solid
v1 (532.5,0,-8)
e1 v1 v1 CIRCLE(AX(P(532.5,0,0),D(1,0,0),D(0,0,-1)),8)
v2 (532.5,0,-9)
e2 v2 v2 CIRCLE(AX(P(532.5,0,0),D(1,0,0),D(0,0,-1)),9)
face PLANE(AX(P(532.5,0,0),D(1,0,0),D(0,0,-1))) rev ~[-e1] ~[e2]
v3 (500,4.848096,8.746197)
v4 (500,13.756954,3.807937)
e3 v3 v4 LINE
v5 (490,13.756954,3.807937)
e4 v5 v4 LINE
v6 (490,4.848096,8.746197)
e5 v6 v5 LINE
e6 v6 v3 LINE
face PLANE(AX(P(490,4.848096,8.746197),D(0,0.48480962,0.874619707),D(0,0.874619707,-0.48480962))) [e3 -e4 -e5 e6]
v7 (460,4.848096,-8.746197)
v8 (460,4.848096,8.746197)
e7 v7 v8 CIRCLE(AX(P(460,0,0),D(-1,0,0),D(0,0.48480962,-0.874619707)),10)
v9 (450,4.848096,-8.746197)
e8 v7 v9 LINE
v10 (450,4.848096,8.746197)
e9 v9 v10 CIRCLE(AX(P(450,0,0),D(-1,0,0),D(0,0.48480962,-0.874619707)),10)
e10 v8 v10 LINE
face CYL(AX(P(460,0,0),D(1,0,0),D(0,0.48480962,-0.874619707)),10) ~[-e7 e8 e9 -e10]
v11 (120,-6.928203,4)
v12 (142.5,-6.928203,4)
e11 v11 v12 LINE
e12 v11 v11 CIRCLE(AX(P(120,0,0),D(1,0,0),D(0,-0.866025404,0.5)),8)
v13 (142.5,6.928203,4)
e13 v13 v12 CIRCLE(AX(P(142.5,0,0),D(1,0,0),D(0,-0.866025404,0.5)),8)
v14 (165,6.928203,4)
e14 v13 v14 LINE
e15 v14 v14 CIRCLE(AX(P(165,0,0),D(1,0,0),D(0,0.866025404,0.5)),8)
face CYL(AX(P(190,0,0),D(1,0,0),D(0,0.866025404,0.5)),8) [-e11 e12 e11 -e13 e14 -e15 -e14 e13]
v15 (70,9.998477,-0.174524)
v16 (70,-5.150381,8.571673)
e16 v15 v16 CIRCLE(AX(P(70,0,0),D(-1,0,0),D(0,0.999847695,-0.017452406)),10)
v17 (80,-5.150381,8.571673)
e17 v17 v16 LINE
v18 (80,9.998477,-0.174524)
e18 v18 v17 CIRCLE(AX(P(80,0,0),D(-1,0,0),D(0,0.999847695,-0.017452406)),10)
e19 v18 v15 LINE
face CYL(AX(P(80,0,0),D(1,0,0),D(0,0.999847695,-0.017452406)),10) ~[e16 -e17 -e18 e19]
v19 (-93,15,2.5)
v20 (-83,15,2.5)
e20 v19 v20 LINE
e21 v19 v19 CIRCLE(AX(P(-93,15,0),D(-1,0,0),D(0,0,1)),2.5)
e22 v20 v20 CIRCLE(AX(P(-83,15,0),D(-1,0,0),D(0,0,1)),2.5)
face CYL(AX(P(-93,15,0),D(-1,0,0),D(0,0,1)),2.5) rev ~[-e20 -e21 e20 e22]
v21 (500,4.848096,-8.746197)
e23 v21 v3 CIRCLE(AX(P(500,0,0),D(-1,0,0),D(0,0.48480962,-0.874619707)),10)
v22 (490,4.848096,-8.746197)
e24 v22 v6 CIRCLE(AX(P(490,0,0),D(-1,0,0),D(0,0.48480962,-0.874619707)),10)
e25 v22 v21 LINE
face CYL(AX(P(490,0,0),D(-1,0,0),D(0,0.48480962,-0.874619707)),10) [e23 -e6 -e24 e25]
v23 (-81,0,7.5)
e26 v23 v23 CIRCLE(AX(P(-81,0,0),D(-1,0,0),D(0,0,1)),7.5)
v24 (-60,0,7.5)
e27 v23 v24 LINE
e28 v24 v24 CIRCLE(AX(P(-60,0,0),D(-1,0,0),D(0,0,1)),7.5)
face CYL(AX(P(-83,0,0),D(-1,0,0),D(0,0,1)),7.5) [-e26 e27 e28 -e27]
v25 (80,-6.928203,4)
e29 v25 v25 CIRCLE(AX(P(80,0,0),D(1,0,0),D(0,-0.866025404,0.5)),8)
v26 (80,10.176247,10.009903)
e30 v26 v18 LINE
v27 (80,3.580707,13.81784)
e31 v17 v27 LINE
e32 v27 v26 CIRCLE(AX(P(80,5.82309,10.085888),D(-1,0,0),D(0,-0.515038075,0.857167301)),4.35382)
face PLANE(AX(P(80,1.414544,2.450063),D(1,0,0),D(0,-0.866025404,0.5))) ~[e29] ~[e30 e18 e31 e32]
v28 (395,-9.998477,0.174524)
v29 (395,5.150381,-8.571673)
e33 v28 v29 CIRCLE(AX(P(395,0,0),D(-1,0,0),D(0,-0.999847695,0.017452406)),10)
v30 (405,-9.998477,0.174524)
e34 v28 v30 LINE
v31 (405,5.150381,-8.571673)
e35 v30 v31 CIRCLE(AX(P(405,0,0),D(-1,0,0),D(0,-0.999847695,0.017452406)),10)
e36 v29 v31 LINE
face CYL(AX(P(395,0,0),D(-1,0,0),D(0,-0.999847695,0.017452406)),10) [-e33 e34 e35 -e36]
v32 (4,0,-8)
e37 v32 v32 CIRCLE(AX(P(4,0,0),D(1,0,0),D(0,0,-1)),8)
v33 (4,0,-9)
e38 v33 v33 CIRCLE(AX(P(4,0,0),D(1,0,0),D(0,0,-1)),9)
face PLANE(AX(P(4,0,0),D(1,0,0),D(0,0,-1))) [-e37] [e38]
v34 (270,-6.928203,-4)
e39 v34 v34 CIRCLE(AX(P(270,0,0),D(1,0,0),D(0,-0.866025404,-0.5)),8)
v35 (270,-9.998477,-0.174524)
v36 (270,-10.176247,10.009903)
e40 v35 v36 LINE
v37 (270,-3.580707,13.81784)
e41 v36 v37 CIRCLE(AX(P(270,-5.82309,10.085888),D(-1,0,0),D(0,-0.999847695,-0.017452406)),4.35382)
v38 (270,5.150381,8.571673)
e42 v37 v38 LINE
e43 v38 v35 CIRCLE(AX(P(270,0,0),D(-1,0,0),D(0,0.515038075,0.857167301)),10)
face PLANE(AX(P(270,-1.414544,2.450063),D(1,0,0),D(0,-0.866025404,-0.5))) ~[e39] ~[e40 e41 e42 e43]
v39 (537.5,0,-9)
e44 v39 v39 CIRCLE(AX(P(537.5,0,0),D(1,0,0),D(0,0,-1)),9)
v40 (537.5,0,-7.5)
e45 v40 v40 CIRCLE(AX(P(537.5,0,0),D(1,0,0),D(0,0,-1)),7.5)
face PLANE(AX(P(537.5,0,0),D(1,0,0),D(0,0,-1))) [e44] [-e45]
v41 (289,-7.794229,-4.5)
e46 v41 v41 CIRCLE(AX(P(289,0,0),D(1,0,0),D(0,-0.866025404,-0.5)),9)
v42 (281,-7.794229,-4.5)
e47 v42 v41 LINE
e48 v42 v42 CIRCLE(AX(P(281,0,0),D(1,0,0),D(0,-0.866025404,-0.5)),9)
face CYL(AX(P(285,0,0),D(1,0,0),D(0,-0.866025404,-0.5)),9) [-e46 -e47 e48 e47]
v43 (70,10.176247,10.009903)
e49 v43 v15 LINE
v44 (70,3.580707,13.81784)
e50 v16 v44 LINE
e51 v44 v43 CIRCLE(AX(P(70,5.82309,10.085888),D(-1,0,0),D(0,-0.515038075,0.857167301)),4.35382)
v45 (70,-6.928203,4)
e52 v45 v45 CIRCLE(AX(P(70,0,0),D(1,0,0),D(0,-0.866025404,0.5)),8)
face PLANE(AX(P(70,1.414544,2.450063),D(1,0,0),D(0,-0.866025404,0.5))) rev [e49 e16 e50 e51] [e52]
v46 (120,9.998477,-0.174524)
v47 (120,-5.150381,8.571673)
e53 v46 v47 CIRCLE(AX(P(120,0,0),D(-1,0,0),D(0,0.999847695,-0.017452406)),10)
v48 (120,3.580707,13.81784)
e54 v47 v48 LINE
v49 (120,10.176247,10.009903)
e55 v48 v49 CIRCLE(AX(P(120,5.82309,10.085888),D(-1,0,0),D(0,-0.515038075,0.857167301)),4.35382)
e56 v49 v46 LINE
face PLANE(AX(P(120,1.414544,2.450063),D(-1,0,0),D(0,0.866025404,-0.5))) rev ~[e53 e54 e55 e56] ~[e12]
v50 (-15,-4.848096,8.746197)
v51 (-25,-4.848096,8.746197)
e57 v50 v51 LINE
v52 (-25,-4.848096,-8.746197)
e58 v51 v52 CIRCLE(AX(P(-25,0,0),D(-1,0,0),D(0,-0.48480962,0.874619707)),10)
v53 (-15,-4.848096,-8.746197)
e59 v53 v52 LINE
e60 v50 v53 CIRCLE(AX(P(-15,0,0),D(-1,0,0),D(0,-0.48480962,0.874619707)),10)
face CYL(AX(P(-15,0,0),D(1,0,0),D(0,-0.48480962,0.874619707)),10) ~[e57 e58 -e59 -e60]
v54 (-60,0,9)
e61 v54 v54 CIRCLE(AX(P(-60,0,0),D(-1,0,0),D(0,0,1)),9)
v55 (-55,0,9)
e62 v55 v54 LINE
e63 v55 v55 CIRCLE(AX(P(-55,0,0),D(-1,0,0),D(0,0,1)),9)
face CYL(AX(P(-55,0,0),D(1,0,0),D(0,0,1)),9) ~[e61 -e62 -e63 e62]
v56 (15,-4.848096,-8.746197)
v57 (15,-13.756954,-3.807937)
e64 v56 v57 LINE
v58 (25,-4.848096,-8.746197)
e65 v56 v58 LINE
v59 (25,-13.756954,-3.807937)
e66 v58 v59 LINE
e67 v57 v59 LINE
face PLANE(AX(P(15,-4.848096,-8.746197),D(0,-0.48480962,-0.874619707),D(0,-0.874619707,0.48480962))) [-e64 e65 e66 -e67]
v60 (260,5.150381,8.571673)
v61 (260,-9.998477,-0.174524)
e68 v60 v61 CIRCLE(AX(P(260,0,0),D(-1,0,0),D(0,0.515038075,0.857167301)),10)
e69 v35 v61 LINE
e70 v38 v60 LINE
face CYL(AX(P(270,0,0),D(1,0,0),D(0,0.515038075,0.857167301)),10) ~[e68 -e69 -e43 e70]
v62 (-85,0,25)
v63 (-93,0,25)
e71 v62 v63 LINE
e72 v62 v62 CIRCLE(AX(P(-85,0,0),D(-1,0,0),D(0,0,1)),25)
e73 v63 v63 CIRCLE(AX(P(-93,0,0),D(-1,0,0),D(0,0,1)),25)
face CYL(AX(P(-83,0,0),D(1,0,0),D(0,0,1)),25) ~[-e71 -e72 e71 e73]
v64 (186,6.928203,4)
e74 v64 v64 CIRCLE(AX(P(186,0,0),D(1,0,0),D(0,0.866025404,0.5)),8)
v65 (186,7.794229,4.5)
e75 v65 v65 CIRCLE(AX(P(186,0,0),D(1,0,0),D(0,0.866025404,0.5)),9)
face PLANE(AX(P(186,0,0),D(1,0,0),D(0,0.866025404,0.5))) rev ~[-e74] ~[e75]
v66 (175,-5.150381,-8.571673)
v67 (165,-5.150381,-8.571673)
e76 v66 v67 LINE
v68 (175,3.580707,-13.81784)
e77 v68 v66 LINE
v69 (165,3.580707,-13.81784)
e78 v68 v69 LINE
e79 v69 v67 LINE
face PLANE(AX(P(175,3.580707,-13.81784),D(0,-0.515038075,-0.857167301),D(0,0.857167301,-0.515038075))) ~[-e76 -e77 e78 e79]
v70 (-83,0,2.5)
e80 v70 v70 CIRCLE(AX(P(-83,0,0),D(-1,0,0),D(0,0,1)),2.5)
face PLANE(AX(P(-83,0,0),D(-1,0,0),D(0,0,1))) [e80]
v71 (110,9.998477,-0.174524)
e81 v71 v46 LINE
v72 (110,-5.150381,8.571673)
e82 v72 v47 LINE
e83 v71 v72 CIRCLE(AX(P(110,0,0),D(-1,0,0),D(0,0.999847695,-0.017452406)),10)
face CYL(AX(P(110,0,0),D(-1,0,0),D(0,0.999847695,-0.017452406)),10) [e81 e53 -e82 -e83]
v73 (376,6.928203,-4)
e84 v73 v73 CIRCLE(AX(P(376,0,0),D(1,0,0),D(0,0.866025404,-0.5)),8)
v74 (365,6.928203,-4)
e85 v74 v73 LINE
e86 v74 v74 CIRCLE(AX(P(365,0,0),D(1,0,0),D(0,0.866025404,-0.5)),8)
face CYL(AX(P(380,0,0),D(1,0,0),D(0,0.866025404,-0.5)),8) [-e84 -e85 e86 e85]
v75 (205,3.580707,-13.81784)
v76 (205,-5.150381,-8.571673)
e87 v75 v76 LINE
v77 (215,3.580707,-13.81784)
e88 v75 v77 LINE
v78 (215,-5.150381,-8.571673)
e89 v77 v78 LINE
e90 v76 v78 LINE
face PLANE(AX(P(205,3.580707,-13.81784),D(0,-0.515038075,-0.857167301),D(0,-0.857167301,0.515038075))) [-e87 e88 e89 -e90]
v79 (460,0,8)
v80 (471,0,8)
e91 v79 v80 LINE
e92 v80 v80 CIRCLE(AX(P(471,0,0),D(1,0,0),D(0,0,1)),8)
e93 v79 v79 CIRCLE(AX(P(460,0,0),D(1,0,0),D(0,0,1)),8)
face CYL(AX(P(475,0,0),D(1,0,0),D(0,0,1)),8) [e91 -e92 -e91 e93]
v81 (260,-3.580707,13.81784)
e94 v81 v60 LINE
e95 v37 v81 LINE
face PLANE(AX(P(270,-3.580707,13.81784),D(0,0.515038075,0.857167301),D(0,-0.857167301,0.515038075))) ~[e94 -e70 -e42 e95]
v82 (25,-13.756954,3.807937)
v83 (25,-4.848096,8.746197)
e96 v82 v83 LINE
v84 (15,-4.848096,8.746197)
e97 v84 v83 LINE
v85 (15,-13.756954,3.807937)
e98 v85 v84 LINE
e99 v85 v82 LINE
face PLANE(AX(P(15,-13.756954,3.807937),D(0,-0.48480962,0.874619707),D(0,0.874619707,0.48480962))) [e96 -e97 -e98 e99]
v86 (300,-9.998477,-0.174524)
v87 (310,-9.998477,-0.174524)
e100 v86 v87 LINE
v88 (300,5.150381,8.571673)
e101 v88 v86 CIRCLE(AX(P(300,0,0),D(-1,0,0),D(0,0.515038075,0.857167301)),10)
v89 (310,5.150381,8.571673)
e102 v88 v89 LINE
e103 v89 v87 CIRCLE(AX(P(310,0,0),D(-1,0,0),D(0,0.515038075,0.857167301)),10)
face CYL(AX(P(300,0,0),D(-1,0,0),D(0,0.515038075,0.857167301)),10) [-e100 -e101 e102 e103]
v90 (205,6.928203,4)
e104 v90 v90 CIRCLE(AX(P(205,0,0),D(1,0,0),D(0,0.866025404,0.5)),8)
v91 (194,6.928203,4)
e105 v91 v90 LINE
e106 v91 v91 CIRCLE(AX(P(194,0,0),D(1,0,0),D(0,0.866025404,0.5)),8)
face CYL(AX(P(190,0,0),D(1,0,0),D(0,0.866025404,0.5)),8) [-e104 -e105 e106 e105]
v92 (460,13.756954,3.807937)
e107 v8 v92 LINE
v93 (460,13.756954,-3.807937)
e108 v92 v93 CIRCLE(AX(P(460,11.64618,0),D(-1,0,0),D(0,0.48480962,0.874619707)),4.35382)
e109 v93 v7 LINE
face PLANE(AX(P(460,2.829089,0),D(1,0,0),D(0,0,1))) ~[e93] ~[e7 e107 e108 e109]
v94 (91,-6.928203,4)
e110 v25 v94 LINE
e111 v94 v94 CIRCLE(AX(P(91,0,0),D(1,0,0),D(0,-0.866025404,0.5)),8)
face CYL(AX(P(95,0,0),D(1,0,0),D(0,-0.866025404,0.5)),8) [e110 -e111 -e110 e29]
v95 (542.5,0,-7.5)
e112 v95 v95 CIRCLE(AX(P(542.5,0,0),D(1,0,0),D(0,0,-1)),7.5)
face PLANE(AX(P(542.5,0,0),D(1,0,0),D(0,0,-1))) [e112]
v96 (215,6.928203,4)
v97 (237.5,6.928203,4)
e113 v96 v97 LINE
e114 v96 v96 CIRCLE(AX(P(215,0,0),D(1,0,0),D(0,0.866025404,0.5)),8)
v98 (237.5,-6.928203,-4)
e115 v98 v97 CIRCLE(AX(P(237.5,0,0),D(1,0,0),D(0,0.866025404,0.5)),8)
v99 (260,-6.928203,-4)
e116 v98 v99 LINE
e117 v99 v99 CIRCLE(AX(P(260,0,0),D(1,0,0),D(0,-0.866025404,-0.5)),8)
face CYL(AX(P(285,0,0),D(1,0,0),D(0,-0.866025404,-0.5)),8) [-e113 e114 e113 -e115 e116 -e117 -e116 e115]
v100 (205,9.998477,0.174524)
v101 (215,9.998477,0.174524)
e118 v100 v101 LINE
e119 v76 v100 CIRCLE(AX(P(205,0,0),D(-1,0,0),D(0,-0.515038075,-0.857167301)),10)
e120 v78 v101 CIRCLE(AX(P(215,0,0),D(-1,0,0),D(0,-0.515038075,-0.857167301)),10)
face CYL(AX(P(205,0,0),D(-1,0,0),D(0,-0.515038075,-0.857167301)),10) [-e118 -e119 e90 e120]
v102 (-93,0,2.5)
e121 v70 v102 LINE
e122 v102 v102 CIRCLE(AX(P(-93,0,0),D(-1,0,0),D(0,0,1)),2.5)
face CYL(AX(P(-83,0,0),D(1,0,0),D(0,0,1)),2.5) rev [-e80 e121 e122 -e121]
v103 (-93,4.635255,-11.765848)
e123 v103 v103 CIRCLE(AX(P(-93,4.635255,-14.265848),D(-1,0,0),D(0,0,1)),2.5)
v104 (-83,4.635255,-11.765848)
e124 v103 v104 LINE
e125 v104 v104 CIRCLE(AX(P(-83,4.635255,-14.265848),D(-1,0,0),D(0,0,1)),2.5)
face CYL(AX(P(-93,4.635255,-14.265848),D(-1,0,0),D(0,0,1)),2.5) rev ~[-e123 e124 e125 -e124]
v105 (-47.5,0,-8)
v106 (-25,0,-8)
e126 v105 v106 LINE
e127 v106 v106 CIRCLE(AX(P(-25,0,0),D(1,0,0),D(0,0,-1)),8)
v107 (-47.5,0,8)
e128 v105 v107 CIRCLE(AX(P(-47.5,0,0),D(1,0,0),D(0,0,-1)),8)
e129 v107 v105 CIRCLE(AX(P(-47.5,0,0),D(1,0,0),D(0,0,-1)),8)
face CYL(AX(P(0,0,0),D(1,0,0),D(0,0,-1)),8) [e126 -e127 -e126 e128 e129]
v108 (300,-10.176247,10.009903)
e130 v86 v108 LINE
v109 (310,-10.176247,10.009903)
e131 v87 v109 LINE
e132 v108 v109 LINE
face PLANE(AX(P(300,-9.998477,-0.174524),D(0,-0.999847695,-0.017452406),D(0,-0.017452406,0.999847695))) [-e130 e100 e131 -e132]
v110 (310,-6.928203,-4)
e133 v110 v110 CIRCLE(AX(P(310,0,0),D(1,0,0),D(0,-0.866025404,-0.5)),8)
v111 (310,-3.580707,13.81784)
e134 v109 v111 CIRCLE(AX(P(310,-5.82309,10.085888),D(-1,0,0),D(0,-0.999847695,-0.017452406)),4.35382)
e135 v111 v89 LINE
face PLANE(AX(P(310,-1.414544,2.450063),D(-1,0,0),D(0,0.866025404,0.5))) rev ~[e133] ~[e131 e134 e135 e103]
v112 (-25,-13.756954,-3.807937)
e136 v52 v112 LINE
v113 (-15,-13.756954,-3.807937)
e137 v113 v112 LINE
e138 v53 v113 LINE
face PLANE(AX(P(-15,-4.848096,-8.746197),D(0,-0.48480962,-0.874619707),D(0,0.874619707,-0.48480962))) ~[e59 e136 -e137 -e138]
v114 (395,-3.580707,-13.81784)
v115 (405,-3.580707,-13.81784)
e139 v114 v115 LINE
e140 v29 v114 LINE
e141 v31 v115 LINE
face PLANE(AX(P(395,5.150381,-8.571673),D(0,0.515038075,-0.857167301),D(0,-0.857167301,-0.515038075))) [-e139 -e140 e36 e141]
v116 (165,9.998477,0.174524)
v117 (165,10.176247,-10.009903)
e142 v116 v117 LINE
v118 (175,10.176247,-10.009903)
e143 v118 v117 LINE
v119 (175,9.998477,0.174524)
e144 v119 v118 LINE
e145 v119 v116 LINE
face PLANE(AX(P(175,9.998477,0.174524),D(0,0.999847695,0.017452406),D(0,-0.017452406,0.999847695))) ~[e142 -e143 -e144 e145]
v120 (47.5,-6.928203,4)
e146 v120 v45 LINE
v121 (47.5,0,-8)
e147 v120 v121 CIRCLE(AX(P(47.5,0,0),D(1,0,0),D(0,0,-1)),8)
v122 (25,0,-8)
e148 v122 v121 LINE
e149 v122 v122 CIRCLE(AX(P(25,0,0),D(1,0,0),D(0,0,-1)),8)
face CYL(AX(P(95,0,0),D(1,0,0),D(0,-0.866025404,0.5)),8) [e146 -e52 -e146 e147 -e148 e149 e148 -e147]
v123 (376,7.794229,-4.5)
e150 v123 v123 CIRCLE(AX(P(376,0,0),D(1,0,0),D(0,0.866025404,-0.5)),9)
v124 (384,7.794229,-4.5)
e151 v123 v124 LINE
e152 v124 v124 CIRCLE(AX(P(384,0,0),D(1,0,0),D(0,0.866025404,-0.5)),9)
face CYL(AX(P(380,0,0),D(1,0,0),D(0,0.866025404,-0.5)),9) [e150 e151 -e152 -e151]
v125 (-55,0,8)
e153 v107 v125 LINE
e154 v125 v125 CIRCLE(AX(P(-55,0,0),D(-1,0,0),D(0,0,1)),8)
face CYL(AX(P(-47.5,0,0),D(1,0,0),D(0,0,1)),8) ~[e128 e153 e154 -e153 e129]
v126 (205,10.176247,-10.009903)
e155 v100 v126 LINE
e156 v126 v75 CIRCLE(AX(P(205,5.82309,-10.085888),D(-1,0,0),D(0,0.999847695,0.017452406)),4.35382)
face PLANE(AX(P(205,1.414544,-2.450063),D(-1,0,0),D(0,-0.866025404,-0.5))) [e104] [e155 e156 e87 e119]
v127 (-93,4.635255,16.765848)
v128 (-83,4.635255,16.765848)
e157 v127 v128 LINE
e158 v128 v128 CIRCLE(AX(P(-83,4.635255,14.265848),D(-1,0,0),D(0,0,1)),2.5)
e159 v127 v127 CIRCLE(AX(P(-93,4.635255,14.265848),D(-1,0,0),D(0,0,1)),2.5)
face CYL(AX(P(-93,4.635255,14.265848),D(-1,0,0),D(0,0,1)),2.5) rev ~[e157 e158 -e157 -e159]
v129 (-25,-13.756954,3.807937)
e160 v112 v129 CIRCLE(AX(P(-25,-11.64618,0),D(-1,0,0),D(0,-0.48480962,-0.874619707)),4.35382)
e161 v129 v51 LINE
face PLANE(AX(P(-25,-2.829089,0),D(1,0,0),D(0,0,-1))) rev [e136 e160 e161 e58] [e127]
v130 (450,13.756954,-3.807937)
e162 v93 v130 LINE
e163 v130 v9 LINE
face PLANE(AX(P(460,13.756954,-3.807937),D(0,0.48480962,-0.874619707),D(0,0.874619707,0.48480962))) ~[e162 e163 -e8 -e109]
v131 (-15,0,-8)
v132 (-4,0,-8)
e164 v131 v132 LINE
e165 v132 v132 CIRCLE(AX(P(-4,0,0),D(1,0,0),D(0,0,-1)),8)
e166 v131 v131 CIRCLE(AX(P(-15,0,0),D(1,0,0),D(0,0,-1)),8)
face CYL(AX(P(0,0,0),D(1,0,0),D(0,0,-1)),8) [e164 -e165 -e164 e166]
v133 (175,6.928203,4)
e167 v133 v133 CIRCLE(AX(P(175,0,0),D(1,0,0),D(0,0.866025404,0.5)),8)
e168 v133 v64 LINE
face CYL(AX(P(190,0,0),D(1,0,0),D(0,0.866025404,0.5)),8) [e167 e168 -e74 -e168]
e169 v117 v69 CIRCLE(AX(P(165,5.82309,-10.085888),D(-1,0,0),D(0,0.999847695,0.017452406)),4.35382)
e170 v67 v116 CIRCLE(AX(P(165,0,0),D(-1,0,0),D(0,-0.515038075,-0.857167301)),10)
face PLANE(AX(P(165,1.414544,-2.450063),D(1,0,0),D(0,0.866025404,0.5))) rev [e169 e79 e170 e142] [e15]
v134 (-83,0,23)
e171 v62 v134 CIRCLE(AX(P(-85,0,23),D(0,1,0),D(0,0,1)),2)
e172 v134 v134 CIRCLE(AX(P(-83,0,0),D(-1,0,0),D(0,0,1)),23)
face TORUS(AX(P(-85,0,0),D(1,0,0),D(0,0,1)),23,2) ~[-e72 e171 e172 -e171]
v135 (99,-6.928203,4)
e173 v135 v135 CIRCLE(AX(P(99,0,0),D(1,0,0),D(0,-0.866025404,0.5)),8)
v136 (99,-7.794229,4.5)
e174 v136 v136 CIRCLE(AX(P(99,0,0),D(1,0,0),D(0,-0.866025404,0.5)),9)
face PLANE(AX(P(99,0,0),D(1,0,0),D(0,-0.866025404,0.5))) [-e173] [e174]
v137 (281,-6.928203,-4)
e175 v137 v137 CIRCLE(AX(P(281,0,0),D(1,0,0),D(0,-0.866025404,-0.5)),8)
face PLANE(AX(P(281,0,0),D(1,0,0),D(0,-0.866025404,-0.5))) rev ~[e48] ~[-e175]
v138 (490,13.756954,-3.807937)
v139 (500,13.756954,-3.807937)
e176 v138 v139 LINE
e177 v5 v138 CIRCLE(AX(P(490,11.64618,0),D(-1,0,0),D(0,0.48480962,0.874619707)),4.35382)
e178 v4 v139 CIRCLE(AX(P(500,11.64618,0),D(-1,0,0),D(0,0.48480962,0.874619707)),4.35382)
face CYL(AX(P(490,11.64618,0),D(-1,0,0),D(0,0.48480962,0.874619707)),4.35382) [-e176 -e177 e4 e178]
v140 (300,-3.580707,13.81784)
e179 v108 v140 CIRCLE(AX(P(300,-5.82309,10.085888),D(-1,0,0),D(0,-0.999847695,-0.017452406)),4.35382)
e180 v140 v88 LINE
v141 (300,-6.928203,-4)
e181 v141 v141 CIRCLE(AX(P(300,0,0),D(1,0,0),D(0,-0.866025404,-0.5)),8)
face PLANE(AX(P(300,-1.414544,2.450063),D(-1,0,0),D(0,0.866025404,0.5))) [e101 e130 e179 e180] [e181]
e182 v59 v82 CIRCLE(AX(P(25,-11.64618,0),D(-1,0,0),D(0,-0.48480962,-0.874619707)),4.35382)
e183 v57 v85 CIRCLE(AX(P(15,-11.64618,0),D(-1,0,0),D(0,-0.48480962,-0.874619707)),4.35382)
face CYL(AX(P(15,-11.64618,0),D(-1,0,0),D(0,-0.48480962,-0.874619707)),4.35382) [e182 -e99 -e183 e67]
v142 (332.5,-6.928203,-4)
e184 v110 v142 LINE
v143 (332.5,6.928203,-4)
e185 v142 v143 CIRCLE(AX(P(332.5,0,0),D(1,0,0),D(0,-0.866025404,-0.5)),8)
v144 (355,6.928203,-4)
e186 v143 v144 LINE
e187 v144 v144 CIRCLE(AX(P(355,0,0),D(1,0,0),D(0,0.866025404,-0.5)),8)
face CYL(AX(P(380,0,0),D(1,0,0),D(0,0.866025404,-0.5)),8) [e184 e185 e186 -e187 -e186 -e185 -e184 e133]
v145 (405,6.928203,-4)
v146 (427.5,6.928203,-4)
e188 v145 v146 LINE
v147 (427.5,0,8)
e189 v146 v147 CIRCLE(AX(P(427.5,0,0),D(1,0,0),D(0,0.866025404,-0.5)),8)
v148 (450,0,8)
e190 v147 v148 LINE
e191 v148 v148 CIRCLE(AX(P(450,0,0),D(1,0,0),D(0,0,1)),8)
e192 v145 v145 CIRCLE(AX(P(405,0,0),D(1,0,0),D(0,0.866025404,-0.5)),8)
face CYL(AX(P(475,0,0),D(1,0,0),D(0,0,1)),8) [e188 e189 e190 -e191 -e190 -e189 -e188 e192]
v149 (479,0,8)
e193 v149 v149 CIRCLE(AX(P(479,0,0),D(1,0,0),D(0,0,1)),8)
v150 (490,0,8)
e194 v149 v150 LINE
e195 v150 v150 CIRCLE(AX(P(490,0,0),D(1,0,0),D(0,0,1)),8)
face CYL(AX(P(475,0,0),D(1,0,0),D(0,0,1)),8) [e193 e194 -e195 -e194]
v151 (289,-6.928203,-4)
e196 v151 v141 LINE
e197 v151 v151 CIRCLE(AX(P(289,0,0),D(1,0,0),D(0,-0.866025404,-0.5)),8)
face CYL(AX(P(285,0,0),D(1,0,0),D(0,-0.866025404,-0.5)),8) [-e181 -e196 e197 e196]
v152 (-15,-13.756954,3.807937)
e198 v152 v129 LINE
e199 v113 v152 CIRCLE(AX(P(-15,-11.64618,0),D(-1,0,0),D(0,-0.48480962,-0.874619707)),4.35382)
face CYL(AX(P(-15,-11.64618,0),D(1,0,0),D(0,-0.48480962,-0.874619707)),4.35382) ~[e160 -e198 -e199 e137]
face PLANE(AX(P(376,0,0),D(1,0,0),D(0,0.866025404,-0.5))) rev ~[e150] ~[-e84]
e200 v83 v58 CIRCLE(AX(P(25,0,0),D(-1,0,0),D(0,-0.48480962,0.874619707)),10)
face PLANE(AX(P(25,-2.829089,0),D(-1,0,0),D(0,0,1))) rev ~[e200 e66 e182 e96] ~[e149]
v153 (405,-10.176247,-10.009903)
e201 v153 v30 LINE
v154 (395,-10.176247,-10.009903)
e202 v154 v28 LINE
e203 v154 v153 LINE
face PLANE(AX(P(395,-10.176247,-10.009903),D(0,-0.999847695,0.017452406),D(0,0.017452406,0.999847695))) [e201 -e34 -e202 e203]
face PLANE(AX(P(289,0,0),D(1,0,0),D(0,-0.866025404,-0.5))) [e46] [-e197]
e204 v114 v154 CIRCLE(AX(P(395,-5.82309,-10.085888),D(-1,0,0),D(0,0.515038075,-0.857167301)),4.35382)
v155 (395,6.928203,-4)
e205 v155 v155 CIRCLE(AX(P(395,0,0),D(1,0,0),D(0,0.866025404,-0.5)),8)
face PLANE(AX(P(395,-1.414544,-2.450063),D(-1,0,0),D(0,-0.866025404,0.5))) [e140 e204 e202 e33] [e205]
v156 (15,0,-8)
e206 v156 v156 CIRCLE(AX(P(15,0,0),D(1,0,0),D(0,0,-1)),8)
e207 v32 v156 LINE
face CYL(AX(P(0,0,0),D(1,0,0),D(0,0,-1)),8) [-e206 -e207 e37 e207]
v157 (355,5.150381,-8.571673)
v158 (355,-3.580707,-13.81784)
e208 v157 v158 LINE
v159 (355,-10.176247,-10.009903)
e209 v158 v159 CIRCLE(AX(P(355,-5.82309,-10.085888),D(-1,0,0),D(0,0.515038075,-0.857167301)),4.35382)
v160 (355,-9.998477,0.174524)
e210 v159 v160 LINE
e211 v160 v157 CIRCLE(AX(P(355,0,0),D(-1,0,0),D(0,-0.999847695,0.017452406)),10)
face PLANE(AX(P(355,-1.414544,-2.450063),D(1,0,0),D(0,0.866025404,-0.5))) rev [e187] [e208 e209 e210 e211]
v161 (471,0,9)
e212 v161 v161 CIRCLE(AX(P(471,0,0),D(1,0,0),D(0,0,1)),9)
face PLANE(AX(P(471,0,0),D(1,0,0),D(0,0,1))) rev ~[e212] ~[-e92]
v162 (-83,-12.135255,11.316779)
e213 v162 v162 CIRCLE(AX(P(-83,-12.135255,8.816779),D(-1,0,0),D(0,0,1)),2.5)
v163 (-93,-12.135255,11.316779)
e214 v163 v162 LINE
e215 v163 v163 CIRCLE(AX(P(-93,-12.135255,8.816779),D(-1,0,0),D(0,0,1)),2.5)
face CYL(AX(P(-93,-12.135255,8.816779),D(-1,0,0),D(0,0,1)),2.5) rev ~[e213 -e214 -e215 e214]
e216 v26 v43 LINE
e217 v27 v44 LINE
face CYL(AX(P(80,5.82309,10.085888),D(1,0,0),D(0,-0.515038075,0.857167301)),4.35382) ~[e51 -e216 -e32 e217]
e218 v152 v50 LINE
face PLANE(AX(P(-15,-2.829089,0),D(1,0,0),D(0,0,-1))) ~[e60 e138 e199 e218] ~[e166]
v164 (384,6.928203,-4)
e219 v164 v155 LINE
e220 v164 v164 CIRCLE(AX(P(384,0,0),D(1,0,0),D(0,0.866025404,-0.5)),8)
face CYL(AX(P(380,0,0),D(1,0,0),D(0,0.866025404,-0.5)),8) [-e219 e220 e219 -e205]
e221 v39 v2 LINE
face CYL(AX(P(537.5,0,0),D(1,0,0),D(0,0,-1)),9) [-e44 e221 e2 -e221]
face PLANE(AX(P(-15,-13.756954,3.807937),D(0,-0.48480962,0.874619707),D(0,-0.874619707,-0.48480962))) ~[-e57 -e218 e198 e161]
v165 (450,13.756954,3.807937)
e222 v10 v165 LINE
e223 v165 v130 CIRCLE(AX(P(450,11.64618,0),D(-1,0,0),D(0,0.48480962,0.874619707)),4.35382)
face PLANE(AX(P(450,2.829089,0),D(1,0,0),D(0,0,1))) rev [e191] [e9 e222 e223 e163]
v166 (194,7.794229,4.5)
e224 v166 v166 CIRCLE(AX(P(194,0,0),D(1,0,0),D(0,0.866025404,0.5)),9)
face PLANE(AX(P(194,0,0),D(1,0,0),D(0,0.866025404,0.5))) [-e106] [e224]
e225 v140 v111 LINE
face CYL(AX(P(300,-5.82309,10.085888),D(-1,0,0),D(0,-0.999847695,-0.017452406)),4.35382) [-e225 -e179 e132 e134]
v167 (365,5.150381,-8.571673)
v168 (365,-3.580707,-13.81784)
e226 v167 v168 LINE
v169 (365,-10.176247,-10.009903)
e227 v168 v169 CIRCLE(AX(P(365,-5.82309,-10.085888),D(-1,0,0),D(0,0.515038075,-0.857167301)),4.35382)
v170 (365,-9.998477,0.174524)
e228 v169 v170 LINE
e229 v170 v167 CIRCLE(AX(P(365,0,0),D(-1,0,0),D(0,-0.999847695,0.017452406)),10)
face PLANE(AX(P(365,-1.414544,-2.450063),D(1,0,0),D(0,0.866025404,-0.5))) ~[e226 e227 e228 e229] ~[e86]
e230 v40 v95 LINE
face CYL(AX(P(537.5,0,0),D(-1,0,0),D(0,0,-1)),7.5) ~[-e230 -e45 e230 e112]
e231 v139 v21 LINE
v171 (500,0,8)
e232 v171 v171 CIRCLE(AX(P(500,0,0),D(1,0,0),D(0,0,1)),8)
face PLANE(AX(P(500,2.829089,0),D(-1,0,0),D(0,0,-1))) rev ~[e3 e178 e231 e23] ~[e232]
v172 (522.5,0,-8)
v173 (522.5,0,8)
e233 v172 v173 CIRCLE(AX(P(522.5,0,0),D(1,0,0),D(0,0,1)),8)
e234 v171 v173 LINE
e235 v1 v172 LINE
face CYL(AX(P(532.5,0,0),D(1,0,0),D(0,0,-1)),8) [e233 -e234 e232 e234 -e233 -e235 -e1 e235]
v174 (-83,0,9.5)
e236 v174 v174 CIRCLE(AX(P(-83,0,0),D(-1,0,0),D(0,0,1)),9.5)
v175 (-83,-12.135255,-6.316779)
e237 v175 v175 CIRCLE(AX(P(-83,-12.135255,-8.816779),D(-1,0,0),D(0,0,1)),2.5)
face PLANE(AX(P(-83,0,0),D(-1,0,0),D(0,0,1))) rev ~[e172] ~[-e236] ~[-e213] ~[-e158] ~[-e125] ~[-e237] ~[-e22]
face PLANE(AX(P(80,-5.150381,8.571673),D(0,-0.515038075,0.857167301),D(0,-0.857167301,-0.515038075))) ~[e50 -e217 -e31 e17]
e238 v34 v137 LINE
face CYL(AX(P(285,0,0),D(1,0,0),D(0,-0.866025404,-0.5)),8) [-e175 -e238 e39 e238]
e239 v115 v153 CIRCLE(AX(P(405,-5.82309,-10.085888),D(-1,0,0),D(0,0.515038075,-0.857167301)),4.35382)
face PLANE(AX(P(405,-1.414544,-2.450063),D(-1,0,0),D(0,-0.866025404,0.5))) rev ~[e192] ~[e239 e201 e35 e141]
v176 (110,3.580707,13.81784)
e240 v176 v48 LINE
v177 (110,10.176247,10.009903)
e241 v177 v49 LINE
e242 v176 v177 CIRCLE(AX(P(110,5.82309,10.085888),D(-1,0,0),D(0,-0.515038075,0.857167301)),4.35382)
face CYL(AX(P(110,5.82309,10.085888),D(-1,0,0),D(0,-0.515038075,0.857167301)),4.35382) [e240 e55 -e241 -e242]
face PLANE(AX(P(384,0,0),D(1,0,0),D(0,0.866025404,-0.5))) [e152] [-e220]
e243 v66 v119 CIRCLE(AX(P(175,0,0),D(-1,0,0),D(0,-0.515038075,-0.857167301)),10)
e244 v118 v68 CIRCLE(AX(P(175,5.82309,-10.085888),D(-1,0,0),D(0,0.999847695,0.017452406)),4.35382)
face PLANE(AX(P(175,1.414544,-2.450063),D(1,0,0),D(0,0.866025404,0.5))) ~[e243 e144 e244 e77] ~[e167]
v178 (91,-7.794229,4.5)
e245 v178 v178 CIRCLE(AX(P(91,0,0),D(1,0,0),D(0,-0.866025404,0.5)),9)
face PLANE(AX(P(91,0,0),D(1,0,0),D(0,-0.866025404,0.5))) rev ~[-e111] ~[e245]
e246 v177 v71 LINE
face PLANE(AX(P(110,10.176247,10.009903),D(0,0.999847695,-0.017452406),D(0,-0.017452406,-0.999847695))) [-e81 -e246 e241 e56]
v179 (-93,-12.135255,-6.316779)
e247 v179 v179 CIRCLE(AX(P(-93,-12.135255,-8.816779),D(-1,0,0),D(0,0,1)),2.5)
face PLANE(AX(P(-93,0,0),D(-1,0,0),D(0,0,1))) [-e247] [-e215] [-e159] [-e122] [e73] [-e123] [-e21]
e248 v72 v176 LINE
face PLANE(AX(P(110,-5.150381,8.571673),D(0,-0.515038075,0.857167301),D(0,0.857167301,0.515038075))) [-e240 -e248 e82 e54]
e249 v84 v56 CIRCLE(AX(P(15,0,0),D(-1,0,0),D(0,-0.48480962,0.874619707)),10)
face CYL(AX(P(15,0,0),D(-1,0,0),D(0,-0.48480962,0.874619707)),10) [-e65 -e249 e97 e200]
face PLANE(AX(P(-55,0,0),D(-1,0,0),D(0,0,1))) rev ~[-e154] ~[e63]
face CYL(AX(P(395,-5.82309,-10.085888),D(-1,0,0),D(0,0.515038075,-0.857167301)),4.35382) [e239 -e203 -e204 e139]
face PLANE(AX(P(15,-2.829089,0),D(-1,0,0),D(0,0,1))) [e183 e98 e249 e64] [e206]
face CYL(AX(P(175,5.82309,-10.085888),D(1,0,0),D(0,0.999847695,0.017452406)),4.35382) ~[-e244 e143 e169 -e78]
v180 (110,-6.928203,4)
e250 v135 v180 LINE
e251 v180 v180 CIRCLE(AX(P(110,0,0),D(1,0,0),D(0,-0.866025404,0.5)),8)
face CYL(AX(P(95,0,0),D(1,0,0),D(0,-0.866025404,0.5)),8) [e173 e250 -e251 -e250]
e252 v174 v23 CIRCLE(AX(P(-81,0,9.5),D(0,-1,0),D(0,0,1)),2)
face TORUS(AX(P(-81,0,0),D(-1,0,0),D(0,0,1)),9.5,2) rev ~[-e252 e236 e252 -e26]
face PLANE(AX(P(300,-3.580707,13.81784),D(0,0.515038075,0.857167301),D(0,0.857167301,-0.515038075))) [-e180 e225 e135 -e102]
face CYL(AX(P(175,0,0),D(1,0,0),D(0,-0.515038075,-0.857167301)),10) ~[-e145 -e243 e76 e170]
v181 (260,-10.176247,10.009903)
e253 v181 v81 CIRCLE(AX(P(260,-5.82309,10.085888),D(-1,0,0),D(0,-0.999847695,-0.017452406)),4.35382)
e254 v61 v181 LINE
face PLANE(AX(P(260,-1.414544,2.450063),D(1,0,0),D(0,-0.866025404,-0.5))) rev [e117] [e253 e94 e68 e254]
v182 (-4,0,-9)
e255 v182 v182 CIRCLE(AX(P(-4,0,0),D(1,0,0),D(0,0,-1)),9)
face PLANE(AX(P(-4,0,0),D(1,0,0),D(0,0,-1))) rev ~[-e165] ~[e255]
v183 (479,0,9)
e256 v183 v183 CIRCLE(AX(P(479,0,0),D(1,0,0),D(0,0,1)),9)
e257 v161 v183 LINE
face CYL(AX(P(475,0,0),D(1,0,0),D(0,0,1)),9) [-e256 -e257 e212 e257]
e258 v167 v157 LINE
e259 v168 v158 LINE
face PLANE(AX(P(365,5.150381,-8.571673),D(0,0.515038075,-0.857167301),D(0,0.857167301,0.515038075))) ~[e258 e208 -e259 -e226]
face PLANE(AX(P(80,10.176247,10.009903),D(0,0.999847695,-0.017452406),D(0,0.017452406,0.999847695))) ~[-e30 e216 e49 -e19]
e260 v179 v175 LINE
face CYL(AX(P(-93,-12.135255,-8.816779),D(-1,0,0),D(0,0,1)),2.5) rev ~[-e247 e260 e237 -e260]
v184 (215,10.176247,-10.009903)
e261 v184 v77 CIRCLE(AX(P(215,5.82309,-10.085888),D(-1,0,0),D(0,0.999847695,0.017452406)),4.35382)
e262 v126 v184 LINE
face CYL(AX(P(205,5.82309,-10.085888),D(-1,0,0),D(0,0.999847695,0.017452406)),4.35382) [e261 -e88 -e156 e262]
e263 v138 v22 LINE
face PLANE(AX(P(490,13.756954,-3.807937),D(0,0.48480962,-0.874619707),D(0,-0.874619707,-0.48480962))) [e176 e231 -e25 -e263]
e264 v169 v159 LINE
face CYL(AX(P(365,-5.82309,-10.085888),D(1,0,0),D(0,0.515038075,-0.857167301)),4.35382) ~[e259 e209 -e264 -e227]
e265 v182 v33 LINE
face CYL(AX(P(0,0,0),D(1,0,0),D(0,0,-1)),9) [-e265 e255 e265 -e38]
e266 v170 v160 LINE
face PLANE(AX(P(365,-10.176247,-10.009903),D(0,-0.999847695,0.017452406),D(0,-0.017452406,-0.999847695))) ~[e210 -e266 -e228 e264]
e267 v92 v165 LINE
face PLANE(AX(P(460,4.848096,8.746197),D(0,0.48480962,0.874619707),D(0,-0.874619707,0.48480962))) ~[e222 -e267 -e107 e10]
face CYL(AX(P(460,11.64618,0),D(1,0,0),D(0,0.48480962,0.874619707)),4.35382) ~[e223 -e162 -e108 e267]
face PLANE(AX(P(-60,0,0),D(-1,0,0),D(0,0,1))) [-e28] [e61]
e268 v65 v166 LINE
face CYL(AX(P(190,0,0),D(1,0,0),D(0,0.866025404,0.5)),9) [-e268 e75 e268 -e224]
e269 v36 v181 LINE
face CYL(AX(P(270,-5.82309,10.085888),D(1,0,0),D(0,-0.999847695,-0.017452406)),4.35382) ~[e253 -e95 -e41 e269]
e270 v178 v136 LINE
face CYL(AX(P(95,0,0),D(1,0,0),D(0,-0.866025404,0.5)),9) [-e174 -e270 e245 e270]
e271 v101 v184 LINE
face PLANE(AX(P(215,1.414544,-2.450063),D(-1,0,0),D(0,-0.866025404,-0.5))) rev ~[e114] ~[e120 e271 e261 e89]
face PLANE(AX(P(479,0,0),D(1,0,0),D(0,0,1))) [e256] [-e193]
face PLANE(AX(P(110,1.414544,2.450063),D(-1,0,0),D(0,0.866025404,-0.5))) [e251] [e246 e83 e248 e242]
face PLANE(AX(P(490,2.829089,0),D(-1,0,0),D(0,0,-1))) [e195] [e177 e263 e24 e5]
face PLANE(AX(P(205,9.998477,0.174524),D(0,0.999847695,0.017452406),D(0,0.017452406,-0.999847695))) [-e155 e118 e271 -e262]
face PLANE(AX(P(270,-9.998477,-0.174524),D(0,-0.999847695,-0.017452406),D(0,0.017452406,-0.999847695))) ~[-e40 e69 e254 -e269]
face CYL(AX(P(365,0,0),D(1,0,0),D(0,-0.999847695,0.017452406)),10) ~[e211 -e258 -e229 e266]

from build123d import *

# Parameters (mm, degrees)
SKETCH1_R             = 8
BOSS_EXTRUDE1_DEPTH   = 47.5
BOSS_EXTRUDE2_START   = 15
BOSS_EXTRUDE2_DEPTH   = 10
SKETCH3_R             = 9
BOSS_EXTRUDE3_DEPTH   = 4
LPATTERN1_COUNT       = 6
LPATTERN1_PITCH       = 95
BODY_MOVE_COPY1_ANGLE = 60
BODY_MOVE_COPY2_ANGLE = 120
BODY_MOVE_COPY3_ANGLE = 60
BODY_MOVE_COPY4_ANGLE = 120
BODY_MOVE_COPY5_ANGLE = 180
BOSS_EXTRUDE4_START   = 10
SKETCH4_R             = 8
BOSS_EXTRUDE4_DEPTH   = 10
BOSS_EXTRUDE5_START   = 5
SKETCH5_R             = 9
BOSS_EXTRUDE5_DEPTH   = 5
SKETCH6_R             = 7.5
BOSS_EXTRUDE6_DEPTH   = 5
SKETCH7_R             = 8
BOSS_EXTRUDE7_DEPTH   = 7.5
SKETCH8_R             = 9
BOSS_EXTRUDE8_DEPTH   = 5
BOSS_EXTRUDE9_START   = 23
SKETCH9_R             = 7.5
BOSS_EXTRUDE9_DEPTH   = 23
SKETCH10_R            = 25
SKETCH10_R_2          = 2.5
BOSS_EXTRUDE10_DEPTH  = 10
FILLET1_R             = 2
CUT_EXTRUDE1_REACH    = 638.483
SKETCH11_R            = 2.5


with BuildPart() as part:
    # Sketch1 → Boss-Extrude1 (new, symmetric)
    with BuildSketch(Plane(origin=(0, 0, 0), x_dir=(0, 0, -1), z_dir=(1, 0, 0))):
        Circle(SKETCH1_R)
    extrude(amount=BOSS_EXTRUDE1_DEPTH, both=True)

    # Sketch2 → Boss-Extrude2 (add)
    with BuildSketch(Plane(origin=(0, 0, 0), x_dir=(0, 0, -1), z_dir=(1, 0, 0)).offset(BOSS_EXTRUDE2_START)):
        with BuildLine():
            Line((-3.807936598, -13.756953924), (-8.746197071, -4.848096202))
            ThreePointArc((-8.746197071, -4.848096202), (0, 10), (8.746197071, -4.848096202))
            Line((8.746197071, -4.848096202), (3.807936598, -13.756953924))
            ThreePointArc((3.807936598, -13.756953924), (0, -16), (-3.807936598, -13.756953924))
        make_face()
    boss_extrude2 = extrude(amount=BOSS_EXTRUDE2_DEPTH)

    # Mirror1: Boss-Extrude2 across plane
    add(boss_extrude2.mirror(Plane(origin=(0, 0, 0), x_dir=(0, 0, 1), z_dir=(1, 0, 0))))

    # Sketch3 → Boss-Extrude3 (add, symmetric)
    with BuildSketch(Plane(origin=(0, 0, 0), x_dir=(0, 0, -1), z_dir=(1, 0, 0))):
        Circle(SKETCH3_R)
    extrude(amount=BOSS_EXTRUDE3_DEPTH, both=True)


with BuildPart() as lpattern1_1:
    # LPattern1: pattern copy
    add(part.part.moved(Location(Vector(1, 0, 0) * (1 * LPATTERN1_PITCH))))


with BuildPart() as lpattern1_2:
    # LPattern1: pattern copy
    add(part.part.moved(Location(Vector(1, 0, 0) * (2 * LPATTERN1_PITCH))))


with BuildPart() as lpattern1_3:
    # LPattern1: pattern copy
    add(part.part.moved(Location(Vector(1, 0, 0) * (3 * LPATTERN1_PITCH))))


with BuildPart() as lpattern1_4:
    # LPattern1: pattern copy
    add(part.part.moved(Location(Vector(1, 0, 0) * (4 * LPATTERN1_PITCH))))


with BuildPart() as lpattern1_5:
    # LPattern1: pattern copy
    add(part.part.moved(Location(Vector(1, 0, 0) * (5 * LPATTERN1_PITCH))))


with BuildPart() as lpattern1_3_1:
    # Body-Move/Copy1: moved
    add(lpattern1_3.part.rotate(Axis((0, 0, 0), (-1, 0, 0)), BODY_MOVE_COPY1_ANGLE))


with BuildPart() as lpattern1_1_1:
    # Body-Move/Copy2: moved
    add(lpattern1_1.part.rotate(Axis((0, 0, 0), (-1, 0, 0)), BODY_MOVE_COPY2_ANGLE))


with BuildPart() as lpattern1_4_1:
    # Body-Move/Copy3: moved
    add(lpattern1_4.part.rotate(Axis((0, 0, 0), (1, 0, 0)), BODY_MOVE_COPY3_ANGLE))


with BuildPart() as lpattern1_2_1:
    # Body-Move/Copy4: moved
    add(lpattern1_2.part.rotate(Axis((0, 0, 0), (1, 0, 0)), BODY_MOVE_COPY4_ANGLE))


with BuildPart() as lpattern1_5_1:
    # Body-Move/Copy5: moved
    add(lpattern1_5.part.rotate(Axis((0, 0, 0), (1, 0, 0)), BODY_MOVE_COPY5_ANGLE))

    # Sketch4 → Boss-Extrude4 (add)
    with BuildSketch(Plane(origin=(522.5, 0, 0), x_dir=(0, 0, -1), z_dir=(1, 0, 0)).offset(BOSS_EXTRUDE4_START)):
        Circle(SKETCH4_R)
    extrude(amount=-BOSS_EXTRUDE4_DEPTH)

    # Sketch5 → Boss-Extrude5 (add)
    with BuildSketch(Plane(origin=(532.5, 0, 0), x_dir=(0, 0, -1), z_dir=(1, 0, 0)).offset(BOSS_EXTRUDE5_START)):
        Circle(SKETCH5_R)
    extrude(amount=-BOSS_EXTRUDE5_DEPTH)


with BuildPart() as part_1:
    add(part.part)

    # Combine1: union LPattern1_1, LPattern1_2, LPattern1_3, LPattern1_4, LPattern1_5
    add(lpattern1_1_1.part)
    add(lpattern1_2_1.part)
    add(lpattern1_3_1.part)
    add(lpattern1_4_1.part)
    add(lpattern1_5_1.part)

    # Sketch6 → Boss-Extrude6 (add)
    with BuildSketch(Plane(origin=(537.5, 0, 0), x_dir=(0, 0, -1), z_dir=(1, 0, 0))):
        Circle(SKETCH6_R)
    extrude(amount=BOSS_EXTRUDE6_DEPTH)

    # Sketch7 → Boss-Extrude7 (add)
    with BuildSketch(Plane.ZY.offset(47.5)):
        Circle(SKETCH7_R)
    extrude(amount=BOSS_EXTRUDE7_DEPTH)

    # Sketch8 → Boss-Extrude8 (add)
    with BuildSketch(Plane.ZY.offset(55)):
        Circle(SKETCH8_R)
    extrude(amount=BOSS_EXTRUDE8_DEPTH)

    # Sketch9 → Boss-Extrude9 (add)
    with BuildSketch(Plane.ZY.offset(60).offset(BOSS_EXTRUDE9_START)):
        Circle(SKETCH9_R)
    extrude(amount=-BOSS_EXTRUDE9_DEPTH)

    # Sketch10 → Boss-Extrude10 (add)
    with BuildSketch(Plane.ZY.offset(83)):
        Circle(SKETCH10_R)
        Circle(SKETCH10_R_2, mode=Mode.SUBTRACT)
    extrude(amount=BOSS_EXTRUDE10_DEPTH)

    # Fillet1
    fillet1_edges = [part_1.edges().sort_by_distance(p)[0] for p in [
        (-83, 0, -25),
        (-83, 0, -7.5),
    ]]
    fillet(fillet1_edges, radius=FILLET1_R)

    # Sketch11 → Cut-Extrude1 (cut, up to next)
    with BuildSketch(Plane.ZY.offset(93), mode=Mode.PRIVATE) as cut_extrude1_sk1:
        with Locations((0, 15)):
            Circle(SKETCH11_R)
    cut_extrude1_tool1 = extrude(cut_extrude1_sk1.sketch, amount=-CUT_EXTRUDE1_REACH, mode=Mode.PRIVATE) & part_1.part
    # Sketch11 → Cut-Extrude1 (cut, up to next)
    with BuildSketch(Plane.ZY.offset(93), mode=Mode.PRIVATE) as cut_extrude1_sk2:
        with Locations((14.265847744, 4.635254916)):
            Circle(SKETCH11_R)
    cut_extrude1_tool2 = extrude(cut_extrude1_sk2.sketch, amount=-CUT_EXTRUDE1_REACH, mode=Mode.PRIVATE) & part_1.part
    # Sketch11 → Cut-Extrude1 (cut, up to next)
    with BuildSketch(Plane.ZY.offset(93), mode=Mode.PRIVATE) as cut_extrude1_sk3:
        with Locations((8.816778784, -12.135254916)):
            Circle(SKETCH11_R)
    cut_extrude1_tool3 = extrude(cut_extrude1_sk3.sketch, amount=-CUT_EXTRUDE1_REACH, mode=Mode.PRIVATE) & part_1.part
    # Sketch11 → Cut-Extrude1 (cut, up to next)
    with BuildSketch(Plane.ZY.offset(93), mode=Mode.PRIVATE) as cut_extrude1_sk4:
        with Locations((-8.816778784, -12.135254916)):
            Circle(SKETCH11_R)
    cut_extrude1_tool4 = extrude(cut_extrude1_sk4.sketch, amount=-CUT_EXTRUDE1_REACH, mode=Mode.PRIVATE) & part_1.part
    # Sketch11 → Cut-Extrude1 (cut, up to next)
    with BuildSketch(Plane.ZY.offset(93), mode=Mode.PRIVATE) as cut_extrude1_sk5:
        with Locations((-14.265847744, 4.635254916)):
            Circle(SKETCH11_R)
    cut_extrude1_tool5 = extrude(cut_extrude1_sk5.sketch, amount=-CUT_EXTRUDE1_REACH, mode=Mode.PRIVATE) & part_1.part
    add(cut_extrude1_tool1.solids().sort_by_distance((-93, 15, 0))[0], mode=Mode.SUBTRACT)
    add(cut_extrude1_tool2.solids().sort_by_distance((-93, 4.635255, 14.265848))[0], mode=Mode.SUBTRACT)
    add(cut_extrude1_tool3.solids().sort_by_distance((-93, -12.135255, 8.816779))[0], mode=Mode.SUBTRACT)
    add(cut_extrude1_tool4.solids().sort_by_distance((-93, -12.135255, -8.816779))[0], mode=Mode.SUBTRACT)
    add(cut_extrude1_tool5.solids().sort_by_distance((-93, 4.635255, -14.265848))[0], mode=Mode.SUBTRACT)


solid = part_1.part
